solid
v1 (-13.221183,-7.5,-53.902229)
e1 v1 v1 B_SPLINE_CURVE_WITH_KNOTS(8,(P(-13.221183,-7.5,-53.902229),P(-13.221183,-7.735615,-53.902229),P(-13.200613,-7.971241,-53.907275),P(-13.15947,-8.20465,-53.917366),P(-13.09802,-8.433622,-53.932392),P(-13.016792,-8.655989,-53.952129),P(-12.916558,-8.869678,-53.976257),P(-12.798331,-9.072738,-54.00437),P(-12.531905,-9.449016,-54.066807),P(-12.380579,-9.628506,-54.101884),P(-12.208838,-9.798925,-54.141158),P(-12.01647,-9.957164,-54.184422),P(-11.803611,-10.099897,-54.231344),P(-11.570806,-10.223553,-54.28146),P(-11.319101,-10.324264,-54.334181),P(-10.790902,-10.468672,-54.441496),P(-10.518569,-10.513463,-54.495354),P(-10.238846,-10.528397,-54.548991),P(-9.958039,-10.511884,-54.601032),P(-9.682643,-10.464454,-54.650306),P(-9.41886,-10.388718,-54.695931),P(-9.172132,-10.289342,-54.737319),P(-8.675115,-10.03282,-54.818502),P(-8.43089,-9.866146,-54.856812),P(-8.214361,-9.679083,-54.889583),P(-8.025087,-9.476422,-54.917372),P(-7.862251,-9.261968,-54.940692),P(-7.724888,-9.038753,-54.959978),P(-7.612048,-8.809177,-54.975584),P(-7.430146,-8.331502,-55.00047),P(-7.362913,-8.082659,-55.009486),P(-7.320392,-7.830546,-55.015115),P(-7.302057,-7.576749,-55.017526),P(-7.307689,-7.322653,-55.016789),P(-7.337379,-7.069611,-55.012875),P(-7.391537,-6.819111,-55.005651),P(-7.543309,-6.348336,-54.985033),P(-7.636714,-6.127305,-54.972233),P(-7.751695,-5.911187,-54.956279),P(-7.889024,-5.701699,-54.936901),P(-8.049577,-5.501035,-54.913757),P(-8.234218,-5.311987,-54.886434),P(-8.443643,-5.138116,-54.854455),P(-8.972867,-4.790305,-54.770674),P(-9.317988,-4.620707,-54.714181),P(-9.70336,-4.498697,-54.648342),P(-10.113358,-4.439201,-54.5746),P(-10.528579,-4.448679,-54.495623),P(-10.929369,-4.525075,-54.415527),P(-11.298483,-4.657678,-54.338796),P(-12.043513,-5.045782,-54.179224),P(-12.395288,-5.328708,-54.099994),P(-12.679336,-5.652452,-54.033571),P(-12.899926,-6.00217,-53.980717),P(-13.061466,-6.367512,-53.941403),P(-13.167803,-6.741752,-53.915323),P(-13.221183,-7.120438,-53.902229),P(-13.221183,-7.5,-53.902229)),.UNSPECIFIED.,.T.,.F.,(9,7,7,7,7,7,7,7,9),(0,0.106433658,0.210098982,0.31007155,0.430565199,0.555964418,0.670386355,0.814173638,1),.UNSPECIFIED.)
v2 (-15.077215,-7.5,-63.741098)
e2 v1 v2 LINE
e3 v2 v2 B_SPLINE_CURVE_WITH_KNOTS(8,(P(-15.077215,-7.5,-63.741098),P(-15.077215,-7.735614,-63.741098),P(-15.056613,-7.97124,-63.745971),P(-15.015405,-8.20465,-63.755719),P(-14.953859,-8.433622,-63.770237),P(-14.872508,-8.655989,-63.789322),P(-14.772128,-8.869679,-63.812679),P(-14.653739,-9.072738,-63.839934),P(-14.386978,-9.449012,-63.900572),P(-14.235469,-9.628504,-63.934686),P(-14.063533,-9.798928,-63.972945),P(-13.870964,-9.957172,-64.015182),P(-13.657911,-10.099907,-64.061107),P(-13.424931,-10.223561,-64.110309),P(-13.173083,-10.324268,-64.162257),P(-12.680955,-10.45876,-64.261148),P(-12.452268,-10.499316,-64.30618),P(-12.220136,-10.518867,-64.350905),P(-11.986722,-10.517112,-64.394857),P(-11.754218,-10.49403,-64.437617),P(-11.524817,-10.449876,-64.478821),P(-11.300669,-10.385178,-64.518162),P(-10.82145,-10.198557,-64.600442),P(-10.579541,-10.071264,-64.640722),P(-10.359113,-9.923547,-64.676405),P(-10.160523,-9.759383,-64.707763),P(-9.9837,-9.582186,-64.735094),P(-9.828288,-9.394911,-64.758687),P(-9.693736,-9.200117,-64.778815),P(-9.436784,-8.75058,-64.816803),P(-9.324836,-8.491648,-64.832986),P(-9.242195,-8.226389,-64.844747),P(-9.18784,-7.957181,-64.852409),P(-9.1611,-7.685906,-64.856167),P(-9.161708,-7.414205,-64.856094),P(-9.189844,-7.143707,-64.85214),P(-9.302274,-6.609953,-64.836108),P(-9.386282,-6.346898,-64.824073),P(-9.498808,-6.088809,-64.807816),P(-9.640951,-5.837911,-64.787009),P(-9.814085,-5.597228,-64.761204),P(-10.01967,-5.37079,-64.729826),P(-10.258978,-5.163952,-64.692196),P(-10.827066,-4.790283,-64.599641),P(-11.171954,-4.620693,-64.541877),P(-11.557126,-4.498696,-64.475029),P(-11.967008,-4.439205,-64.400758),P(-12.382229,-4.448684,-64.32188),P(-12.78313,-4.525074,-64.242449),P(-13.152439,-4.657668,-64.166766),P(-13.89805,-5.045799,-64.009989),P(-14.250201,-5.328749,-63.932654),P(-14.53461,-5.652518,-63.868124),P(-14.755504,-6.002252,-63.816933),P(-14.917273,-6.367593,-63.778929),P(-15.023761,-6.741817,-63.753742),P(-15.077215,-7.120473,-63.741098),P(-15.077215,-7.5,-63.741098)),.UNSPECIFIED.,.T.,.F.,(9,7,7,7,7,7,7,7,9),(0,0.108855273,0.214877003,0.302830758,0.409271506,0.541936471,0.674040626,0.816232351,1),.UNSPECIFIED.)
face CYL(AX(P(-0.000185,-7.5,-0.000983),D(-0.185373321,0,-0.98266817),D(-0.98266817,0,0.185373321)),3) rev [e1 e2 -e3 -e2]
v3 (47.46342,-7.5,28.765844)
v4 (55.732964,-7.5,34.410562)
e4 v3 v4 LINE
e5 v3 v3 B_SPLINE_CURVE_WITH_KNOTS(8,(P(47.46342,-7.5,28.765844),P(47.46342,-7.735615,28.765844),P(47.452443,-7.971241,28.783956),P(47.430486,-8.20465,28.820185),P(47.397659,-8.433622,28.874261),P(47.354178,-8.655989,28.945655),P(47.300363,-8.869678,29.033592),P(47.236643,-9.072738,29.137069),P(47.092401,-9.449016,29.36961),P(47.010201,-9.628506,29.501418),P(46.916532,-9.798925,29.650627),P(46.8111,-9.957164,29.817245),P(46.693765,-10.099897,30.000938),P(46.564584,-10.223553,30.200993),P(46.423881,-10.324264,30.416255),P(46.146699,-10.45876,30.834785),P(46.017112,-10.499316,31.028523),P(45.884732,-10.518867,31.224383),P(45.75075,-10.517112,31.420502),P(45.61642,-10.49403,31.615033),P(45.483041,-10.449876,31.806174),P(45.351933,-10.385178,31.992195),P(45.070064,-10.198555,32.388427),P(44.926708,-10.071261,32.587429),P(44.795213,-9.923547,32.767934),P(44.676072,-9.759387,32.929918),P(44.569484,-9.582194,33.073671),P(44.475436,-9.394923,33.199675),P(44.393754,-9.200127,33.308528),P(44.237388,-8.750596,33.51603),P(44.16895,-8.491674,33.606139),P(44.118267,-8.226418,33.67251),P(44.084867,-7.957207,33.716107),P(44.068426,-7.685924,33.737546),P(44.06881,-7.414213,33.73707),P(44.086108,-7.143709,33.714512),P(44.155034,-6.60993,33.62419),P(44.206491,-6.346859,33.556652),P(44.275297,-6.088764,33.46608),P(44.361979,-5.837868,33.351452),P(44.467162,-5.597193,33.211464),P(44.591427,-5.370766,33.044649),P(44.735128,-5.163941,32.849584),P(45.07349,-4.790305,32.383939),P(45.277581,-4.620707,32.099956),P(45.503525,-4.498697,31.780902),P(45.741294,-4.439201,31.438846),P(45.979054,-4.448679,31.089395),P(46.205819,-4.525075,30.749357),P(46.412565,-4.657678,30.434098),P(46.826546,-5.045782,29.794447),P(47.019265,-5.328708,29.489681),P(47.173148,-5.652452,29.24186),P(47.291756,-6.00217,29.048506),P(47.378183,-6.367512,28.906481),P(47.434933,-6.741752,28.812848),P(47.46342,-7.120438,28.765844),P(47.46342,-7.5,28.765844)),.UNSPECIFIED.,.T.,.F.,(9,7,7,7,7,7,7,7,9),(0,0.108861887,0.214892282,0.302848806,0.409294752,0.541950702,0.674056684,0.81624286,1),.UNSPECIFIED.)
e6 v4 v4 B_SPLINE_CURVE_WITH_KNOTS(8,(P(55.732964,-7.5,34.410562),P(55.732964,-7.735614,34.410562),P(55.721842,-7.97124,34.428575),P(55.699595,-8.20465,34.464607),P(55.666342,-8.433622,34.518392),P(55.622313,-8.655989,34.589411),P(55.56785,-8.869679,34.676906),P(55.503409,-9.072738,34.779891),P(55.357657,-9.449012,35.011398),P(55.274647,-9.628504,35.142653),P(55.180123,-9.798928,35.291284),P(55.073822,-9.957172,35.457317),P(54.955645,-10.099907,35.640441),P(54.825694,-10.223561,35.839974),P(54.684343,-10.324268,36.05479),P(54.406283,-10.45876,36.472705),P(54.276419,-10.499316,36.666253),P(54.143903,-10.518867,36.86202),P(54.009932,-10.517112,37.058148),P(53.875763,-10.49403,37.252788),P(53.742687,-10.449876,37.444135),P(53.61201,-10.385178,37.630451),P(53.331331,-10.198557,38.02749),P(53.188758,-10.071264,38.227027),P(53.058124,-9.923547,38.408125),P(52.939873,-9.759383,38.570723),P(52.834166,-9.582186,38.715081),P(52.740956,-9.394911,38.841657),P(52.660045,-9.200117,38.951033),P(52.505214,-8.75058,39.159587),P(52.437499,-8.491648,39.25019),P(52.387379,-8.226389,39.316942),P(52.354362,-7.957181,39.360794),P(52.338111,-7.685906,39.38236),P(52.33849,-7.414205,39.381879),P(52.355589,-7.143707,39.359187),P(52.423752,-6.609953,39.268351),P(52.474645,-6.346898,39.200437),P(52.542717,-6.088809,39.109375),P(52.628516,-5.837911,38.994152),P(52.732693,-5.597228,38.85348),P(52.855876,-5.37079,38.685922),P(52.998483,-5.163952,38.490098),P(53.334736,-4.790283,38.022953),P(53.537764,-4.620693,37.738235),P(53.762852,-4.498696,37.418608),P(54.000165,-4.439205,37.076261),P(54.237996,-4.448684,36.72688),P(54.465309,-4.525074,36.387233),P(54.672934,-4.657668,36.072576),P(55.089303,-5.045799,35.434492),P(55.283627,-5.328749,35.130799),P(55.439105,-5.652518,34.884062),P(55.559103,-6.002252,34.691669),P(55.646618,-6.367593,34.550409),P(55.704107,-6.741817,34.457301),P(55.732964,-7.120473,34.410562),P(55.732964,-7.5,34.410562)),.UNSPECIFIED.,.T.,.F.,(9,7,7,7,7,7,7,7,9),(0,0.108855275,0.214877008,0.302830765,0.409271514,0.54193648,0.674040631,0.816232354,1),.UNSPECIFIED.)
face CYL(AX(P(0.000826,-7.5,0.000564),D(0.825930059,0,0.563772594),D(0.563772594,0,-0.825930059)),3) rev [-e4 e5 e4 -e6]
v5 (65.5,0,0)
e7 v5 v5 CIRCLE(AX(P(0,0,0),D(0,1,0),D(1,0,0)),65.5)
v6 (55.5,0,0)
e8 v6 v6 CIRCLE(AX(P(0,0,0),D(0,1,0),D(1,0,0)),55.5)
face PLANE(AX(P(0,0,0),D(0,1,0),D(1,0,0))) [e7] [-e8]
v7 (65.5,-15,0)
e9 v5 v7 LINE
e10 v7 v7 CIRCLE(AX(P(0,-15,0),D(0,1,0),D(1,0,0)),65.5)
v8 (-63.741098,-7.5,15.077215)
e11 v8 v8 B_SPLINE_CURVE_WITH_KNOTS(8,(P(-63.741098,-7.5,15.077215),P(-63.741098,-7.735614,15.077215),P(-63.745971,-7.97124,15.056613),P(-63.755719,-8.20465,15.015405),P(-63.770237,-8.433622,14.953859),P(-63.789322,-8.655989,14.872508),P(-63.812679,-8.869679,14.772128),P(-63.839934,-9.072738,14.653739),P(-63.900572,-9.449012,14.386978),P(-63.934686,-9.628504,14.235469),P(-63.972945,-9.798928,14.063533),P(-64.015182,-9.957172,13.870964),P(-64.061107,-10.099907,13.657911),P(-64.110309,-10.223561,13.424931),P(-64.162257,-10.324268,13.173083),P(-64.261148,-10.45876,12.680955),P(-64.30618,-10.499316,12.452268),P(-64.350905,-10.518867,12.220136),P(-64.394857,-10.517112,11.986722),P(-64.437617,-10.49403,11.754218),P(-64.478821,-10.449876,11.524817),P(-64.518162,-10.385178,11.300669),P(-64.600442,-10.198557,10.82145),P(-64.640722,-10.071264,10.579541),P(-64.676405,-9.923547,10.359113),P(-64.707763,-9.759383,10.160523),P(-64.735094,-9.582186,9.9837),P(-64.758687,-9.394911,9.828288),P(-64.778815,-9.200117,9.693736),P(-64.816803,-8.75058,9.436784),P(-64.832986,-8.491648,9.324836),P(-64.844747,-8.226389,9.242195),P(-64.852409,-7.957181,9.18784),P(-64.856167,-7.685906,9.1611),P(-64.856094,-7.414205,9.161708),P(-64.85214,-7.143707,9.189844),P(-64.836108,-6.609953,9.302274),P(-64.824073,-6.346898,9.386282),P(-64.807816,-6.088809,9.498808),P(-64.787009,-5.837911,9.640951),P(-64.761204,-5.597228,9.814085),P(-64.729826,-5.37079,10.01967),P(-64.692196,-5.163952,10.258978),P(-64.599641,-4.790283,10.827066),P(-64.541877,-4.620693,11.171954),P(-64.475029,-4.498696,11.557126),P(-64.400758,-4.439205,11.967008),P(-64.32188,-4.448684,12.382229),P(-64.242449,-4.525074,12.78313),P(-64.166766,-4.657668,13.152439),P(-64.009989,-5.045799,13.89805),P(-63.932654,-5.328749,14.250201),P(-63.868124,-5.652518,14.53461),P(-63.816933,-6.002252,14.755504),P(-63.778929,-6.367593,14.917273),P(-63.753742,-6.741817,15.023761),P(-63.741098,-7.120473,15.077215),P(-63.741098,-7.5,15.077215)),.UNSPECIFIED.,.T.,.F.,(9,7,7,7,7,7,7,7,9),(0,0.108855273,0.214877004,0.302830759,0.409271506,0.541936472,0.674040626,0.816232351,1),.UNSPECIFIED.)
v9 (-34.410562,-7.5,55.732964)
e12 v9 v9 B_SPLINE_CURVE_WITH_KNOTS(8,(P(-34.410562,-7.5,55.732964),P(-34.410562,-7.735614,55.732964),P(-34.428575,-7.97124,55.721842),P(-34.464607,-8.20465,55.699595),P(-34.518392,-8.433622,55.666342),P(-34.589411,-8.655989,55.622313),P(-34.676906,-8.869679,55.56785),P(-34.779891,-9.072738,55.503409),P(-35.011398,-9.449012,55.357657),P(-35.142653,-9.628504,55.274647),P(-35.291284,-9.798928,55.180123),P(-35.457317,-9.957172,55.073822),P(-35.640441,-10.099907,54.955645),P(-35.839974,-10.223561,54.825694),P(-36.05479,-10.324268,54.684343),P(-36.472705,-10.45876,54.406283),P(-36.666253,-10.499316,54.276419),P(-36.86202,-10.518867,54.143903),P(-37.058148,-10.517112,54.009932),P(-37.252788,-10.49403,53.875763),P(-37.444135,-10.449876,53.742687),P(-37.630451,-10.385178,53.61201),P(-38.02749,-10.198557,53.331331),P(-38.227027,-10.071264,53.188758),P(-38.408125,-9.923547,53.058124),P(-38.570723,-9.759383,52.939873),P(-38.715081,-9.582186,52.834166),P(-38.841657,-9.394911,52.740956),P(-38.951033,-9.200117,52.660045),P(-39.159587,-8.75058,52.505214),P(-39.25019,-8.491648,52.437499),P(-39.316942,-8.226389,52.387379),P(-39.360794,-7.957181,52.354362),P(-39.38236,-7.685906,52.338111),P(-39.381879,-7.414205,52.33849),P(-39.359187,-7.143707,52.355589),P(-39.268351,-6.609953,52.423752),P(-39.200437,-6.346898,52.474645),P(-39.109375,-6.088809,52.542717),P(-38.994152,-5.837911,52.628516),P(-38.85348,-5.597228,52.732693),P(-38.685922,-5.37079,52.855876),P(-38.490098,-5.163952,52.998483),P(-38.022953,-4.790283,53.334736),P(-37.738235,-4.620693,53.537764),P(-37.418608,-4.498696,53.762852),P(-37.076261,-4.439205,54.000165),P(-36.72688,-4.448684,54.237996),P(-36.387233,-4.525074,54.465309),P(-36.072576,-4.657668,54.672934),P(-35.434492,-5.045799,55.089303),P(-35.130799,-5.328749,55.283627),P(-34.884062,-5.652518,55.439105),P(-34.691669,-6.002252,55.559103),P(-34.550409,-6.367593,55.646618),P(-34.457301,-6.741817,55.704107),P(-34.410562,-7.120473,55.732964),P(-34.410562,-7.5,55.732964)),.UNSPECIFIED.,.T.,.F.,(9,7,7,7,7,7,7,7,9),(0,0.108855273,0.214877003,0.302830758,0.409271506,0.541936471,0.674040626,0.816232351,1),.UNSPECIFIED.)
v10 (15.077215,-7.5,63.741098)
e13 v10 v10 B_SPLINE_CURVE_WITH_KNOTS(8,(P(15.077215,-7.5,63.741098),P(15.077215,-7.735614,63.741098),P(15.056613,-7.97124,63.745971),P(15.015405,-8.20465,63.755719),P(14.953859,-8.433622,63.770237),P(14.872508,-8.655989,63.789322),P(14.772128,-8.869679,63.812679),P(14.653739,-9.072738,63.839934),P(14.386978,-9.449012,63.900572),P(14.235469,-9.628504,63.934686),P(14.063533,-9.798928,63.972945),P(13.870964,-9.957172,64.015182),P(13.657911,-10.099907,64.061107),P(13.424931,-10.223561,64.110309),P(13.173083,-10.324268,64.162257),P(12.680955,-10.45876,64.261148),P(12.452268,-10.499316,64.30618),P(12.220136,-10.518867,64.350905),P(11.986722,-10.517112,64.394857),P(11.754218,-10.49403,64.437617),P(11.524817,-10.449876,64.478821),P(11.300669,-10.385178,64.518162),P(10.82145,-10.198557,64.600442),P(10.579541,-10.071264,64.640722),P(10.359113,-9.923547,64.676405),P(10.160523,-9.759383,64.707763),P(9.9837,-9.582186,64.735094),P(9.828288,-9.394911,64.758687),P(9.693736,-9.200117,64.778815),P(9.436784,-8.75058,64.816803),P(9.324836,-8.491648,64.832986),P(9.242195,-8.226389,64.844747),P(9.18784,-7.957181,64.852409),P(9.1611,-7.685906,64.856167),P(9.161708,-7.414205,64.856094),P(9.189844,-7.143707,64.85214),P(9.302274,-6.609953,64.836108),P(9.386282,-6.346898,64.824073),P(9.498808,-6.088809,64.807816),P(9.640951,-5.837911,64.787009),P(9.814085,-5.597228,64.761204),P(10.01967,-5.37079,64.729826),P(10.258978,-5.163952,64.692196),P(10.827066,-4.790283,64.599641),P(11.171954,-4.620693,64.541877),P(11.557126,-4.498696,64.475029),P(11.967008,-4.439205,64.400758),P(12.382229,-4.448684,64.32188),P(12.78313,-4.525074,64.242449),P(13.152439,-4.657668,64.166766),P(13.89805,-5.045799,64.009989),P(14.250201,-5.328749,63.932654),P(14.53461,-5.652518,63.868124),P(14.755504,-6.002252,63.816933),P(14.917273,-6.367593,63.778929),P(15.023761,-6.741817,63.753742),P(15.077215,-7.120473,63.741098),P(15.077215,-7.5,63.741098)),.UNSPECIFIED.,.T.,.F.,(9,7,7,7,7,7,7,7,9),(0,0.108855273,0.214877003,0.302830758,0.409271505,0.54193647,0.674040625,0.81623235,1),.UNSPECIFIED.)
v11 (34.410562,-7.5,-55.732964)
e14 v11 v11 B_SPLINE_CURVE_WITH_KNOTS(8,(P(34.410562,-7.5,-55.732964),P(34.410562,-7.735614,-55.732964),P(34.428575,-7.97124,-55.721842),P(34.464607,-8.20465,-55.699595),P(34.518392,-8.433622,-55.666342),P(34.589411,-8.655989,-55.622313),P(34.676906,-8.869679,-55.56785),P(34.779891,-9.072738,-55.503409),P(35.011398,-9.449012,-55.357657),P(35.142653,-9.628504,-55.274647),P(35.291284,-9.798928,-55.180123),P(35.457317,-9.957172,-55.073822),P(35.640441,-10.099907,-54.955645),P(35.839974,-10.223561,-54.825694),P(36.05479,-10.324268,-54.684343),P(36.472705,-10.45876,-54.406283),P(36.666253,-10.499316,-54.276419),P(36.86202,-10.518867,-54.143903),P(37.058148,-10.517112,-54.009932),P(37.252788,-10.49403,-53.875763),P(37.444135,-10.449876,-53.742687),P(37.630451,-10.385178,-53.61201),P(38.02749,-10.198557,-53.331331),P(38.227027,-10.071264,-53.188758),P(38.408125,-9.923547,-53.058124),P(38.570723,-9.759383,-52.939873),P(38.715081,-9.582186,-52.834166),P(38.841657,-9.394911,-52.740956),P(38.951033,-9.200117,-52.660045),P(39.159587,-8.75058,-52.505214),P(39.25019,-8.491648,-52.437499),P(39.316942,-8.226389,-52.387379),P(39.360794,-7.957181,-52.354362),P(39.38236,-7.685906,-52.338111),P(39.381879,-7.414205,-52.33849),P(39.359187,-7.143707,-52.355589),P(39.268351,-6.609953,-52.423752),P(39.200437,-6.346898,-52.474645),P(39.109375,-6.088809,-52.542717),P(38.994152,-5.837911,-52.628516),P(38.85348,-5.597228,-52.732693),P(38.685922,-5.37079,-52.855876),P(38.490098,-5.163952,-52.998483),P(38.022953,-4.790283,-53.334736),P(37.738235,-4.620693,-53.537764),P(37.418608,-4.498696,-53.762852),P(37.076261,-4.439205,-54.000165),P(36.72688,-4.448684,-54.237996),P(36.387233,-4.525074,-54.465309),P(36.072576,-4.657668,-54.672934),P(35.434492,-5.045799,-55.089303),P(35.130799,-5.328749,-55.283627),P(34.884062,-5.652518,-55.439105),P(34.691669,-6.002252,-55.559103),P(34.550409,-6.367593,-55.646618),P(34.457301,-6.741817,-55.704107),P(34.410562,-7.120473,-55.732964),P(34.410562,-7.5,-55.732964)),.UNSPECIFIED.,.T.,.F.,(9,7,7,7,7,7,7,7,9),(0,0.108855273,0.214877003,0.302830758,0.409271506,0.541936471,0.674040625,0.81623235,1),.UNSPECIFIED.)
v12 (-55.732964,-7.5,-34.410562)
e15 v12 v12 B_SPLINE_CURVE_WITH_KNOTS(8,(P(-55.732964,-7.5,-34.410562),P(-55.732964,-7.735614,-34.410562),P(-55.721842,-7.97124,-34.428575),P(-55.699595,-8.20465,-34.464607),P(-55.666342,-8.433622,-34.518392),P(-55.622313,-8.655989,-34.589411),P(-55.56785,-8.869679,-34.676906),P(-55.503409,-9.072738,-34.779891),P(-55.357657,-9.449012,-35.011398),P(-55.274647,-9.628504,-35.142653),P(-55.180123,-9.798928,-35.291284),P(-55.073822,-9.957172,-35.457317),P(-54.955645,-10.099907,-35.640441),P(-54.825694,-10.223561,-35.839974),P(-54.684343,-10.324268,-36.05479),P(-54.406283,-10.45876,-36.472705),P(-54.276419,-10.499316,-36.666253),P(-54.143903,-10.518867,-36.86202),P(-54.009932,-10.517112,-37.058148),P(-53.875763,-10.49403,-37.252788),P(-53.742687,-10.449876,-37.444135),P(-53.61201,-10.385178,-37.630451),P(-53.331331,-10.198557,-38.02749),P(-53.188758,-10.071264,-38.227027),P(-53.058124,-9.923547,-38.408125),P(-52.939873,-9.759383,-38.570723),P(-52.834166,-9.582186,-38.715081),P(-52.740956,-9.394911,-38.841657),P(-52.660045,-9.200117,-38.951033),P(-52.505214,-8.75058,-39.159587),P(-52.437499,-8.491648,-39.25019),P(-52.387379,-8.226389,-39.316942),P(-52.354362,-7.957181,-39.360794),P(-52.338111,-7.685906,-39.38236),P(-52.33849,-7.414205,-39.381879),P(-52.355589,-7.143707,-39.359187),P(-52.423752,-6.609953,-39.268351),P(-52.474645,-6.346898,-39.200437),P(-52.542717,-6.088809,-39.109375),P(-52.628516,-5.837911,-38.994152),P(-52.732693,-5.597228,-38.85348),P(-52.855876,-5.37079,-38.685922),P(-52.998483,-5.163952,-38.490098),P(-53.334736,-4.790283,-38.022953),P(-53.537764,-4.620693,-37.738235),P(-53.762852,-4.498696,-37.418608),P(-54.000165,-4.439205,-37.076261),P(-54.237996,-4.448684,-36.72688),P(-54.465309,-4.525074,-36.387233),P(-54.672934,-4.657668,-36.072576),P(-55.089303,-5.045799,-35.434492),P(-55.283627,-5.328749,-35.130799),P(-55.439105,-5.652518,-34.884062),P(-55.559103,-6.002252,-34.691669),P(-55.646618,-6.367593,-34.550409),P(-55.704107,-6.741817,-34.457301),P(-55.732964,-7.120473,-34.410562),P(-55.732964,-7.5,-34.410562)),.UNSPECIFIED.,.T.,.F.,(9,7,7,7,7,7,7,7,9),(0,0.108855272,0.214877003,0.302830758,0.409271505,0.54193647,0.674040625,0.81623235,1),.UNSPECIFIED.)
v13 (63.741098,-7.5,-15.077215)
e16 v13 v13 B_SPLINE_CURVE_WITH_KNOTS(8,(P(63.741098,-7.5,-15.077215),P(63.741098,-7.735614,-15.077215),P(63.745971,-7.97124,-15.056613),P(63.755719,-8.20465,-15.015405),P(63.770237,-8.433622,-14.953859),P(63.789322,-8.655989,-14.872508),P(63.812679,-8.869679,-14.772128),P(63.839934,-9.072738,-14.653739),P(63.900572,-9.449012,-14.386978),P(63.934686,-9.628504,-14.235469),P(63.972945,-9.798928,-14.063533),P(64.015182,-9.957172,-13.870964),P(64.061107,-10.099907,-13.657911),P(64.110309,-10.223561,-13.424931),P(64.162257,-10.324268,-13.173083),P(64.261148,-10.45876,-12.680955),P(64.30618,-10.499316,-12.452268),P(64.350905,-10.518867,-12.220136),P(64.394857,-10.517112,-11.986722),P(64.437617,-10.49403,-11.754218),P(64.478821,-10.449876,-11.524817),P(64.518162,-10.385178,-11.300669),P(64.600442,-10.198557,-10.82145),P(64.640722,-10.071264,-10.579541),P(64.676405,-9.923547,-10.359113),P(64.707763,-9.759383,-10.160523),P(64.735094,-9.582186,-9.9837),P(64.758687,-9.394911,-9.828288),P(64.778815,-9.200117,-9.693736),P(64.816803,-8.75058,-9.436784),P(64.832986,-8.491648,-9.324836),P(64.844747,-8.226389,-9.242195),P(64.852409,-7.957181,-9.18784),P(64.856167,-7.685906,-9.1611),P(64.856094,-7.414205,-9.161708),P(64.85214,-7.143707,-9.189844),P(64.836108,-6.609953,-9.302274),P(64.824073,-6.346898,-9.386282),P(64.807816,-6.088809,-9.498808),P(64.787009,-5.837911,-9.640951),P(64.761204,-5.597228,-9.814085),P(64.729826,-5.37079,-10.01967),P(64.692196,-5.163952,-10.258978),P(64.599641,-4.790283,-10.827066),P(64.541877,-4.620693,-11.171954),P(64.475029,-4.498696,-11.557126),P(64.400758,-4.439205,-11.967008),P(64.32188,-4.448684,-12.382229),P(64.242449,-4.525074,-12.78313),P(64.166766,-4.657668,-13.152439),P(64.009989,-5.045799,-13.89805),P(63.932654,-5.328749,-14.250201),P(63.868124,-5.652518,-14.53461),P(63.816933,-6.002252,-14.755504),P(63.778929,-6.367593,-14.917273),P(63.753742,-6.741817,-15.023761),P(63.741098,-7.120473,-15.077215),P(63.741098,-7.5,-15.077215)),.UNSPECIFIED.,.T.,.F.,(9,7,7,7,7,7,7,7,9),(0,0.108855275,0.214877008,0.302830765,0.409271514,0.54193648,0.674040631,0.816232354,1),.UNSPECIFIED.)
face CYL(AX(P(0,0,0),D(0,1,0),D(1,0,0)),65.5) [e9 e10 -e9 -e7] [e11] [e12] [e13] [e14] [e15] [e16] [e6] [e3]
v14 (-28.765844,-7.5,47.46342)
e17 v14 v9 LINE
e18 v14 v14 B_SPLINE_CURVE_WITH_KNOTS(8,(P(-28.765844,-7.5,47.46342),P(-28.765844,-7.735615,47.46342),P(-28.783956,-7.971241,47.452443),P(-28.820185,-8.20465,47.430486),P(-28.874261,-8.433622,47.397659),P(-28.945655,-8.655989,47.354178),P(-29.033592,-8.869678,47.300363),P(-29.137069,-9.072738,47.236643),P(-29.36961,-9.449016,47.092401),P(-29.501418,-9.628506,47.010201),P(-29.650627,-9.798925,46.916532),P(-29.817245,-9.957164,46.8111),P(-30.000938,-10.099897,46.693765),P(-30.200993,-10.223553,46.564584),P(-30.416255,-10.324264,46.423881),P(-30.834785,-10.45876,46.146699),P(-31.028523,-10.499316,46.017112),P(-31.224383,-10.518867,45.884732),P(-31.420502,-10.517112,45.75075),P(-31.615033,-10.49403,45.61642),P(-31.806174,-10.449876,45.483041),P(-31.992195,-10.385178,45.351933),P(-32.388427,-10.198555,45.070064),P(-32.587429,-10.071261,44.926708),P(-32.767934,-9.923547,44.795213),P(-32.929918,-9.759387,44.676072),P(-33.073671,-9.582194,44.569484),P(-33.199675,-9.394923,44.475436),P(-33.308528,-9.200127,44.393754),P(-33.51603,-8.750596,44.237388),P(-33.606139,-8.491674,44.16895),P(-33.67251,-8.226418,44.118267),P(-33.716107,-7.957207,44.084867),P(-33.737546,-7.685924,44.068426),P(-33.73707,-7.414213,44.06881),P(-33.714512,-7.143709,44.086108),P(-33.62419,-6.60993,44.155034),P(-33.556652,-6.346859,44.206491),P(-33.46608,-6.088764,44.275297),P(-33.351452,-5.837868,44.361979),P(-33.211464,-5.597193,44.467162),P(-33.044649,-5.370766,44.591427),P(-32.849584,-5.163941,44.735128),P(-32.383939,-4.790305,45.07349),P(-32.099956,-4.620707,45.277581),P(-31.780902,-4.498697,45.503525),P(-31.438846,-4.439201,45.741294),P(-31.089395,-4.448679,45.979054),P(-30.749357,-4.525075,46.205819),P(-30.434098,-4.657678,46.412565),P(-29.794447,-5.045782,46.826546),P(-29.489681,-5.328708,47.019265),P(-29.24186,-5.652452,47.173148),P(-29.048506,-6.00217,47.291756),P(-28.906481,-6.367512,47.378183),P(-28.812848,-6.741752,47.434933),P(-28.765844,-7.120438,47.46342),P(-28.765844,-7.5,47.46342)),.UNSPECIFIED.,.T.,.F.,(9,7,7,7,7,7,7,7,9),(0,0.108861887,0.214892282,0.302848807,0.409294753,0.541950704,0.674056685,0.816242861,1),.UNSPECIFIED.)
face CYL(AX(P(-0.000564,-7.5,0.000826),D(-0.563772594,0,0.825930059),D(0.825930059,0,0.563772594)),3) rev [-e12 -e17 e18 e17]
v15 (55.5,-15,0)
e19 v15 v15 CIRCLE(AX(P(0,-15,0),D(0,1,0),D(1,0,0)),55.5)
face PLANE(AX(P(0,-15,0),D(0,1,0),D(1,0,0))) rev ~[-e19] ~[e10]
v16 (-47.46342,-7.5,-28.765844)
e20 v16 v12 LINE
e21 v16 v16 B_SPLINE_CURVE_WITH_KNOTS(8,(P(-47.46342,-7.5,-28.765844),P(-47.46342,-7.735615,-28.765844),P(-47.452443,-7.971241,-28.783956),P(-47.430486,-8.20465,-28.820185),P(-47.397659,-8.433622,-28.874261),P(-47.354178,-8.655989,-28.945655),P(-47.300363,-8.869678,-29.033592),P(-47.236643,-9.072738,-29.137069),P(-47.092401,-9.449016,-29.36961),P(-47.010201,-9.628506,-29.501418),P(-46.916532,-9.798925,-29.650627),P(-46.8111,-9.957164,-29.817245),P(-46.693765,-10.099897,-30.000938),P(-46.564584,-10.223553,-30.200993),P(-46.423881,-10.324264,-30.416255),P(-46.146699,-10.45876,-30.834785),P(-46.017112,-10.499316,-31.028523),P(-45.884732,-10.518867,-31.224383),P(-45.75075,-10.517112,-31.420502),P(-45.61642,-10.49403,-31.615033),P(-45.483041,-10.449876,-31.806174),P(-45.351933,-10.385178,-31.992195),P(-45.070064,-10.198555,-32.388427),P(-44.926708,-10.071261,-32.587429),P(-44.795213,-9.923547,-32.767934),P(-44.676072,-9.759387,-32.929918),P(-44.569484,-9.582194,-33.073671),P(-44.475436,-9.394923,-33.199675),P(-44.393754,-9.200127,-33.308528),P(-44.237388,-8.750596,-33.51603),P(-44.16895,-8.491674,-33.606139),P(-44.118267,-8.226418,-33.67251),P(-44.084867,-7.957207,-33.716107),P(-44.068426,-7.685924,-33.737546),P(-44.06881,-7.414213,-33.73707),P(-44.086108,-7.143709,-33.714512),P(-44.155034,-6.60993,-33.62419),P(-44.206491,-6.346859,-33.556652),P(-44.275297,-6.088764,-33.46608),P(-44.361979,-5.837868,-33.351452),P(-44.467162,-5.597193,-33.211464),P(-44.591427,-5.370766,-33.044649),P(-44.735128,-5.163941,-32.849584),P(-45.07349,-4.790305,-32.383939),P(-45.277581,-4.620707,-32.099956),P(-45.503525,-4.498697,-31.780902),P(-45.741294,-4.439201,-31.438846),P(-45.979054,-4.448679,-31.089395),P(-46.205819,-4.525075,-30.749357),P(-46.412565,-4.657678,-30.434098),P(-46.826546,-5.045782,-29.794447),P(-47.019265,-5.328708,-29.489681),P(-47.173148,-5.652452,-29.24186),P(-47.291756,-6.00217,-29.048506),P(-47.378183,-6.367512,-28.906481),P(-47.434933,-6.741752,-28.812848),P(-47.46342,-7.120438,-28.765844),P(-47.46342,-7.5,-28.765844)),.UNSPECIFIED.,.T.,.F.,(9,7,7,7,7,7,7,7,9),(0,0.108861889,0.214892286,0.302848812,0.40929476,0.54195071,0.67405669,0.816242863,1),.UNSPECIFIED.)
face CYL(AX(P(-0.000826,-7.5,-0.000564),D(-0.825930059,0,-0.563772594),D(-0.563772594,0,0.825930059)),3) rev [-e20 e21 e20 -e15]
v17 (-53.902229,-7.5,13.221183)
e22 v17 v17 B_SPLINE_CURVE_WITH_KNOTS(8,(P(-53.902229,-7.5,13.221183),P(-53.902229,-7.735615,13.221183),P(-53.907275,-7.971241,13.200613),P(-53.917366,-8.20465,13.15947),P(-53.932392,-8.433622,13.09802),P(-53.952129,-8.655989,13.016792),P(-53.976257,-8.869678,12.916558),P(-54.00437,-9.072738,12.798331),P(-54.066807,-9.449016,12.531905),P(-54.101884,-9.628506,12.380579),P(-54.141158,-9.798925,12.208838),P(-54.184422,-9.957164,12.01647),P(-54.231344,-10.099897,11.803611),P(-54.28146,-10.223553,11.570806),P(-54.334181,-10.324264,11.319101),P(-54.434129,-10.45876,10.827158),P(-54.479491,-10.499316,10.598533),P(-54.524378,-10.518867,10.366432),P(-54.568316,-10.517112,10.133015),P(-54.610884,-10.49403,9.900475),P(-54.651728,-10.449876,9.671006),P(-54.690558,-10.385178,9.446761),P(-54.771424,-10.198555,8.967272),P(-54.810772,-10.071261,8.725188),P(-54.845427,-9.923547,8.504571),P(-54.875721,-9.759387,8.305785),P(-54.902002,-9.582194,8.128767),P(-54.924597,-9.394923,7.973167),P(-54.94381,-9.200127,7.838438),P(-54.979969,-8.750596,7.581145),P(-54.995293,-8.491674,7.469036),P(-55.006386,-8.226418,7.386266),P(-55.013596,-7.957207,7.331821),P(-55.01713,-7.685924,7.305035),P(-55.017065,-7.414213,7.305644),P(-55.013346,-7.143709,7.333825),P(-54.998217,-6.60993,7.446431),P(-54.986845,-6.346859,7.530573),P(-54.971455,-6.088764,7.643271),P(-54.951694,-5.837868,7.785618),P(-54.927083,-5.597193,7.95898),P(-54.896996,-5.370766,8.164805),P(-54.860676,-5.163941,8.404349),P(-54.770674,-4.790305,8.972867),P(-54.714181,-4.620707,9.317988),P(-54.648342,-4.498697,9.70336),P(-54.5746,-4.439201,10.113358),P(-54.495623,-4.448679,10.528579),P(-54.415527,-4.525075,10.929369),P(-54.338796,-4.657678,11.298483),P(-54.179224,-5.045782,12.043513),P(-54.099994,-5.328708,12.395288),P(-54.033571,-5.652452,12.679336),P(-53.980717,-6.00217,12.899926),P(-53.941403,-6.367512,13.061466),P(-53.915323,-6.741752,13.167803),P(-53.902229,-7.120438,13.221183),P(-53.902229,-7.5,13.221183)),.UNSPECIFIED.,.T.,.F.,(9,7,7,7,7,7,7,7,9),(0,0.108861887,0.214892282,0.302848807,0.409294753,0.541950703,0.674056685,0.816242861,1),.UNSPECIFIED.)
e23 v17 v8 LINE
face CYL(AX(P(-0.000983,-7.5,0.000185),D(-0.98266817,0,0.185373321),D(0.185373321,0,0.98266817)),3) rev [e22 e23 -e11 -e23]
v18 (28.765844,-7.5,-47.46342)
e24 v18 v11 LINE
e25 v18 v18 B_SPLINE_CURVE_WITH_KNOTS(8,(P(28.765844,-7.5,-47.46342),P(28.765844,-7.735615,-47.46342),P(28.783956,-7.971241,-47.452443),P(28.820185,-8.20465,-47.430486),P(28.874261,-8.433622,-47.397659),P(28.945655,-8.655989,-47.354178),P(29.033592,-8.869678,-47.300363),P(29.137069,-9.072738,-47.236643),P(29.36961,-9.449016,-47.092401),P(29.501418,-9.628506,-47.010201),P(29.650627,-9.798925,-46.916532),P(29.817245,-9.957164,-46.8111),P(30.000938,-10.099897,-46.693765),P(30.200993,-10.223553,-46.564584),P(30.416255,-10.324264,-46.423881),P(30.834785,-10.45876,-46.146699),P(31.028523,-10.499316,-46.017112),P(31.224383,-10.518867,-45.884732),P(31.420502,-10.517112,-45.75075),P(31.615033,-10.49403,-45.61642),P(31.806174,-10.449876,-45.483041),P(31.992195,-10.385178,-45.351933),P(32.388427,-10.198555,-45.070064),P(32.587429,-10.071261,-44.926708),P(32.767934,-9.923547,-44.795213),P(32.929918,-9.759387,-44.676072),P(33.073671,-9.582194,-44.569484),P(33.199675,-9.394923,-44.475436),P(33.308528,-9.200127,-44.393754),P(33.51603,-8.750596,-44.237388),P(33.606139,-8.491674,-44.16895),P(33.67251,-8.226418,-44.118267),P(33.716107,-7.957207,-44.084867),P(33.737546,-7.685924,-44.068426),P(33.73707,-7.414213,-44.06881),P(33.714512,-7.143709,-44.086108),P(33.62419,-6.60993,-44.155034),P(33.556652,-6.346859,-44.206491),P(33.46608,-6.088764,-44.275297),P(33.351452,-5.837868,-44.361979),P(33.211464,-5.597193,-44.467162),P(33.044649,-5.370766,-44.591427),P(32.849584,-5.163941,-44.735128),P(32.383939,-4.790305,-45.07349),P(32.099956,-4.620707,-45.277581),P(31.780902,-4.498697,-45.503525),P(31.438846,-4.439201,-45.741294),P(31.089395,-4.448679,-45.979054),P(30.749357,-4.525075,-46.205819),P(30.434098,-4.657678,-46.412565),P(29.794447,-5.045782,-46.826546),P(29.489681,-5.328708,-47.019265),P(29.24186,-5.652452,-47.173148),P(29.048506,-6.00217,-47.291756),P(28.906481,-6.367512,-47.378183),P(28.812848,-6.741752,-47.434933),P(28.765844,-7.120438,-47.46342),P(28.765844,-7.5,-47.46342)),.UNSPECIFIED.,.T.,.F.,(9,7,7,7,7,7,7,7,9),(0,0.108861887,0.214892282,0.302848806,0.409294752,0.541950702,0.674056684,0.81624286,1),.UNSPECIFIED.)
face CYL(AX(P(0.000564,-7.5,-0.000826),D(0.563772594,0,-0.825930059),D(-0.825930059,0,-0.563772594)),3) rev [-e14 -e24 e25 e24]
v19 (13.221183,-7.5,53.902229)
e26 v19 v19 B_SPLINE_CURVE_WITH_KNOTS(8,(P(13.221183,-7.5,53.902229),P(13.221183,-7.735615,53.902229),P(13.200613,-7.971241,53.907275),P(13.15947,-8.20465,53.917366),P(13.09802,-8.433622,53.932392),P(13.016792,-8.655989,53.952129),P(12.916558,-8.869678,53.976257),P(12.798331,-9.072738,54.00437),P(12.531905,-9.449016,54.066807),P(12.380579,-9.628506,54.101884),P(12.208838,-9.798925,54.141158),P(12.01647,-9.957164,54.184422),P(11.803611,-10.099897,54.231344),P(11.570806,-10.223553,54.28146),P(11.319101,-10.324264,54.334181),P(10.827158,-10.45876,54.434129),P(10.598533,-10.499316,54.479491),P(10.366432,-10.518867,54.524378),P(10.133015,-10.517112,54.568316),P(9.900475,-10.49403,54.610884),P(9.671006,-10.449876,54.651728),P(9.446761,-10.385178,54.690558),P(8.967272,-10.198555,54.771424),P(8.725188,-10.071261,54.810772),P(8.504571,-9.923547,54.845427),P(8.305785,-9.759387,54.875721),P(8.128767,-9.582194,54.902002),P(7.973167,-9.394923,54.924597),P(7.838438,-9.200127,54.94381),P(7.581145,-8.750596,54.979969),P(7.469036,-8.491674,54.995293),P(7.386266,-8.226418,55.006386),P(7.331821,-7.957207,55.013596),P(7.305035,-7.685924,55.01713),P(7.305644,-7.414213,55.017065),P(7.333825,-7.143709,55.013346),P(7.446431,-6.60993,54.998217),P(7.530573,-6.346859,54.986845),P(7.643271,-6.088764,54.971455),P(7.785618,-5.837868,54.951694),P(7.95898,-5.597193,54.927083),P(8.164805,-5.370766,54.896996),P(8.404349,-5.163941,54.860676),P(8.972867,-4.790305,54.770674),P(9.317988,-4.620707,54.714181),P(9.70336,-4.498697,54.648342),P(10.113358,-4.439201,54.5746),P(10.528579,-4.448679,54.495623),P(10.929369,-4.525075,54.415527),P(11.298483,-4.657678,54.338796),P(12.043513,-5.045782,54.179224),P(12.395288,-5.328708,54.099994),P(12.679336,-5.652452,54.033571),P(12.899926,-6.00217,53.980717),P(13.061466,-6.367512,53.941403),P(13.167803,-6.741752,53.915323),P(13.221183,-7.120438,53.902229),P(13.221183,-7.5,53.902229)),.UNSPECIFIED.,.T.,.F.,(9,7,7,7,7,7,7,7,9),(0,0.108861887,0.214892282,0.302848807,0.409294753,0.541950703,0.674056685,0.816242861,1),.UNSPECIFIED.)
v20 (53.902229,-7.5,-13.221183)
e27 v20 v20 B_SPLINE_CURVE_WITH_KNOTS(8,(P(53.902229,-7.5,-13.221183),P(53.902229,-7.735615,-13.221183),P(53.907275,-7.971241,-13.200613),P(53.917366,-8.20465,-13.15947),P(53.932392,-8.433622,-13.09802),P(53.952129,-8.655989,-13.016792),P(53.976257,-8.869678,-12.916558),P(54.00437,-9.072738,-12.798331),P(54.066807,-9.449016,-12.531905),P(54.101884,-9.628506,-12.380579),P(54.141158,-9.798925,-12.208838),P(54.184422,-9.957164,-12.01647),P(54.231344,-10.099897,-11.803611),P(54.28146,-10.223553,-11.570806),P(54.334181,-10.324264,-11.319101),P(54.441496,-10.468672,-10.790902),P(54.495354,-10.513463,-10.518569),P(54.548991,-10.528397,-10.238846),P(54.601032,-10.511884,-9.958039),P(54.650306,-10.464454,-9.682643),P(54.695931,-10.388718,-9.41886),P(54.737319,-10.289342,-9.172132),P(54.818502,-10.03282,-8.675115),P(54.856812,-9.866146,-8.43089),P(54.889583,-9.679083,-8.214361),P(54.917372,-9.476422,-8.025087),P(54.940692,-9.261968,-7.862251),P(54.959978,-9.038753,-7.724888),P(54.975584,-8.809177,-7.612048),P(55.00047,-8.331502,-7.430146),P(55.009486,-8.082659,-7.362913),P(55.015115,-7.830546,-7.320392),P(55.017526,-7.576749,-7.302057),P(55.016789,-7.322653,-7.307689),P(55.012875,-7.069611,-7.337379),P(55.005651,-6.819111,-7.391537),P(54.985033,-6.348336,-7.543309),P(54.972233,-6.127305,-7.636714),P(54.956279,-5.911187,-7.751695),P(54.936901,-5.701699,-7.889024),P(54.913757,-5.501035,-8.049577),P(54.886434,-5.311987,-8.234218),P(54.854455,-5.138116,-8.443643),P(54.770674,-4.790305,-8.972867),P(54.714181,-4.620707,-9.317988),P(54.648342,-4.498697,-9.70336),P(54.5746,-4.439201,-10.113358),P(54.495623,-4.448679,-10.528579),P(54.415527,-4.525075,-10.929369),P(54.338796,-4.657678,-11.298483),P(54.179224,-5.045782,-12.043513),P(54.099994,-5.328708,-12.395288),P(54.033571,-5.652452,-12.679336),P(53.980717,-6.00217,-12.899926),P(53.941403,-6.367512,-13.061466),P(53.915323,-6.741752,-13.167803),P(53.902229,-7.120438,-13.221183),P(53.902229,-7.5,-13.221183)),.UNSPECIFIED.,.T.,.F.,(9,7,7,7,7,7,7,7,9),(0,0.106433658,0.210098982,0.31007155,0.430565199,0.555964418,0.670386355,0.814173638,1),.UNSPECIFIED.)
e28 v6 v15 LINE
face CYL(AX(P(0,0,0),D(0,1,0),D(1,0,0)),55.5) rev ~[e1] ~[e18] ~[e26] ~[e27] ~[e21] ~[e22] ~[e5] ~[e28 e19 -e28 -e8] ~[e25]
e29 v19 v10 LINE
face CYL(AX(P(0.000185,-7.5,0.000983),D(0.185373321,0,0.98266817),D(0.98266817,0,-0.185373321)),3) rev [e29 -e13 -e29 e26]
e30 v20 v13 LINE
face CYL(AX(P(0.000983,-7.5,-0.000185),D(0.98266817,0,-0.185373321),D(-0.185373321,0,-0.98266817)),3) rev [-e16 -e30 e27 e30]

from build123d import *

# Parameters (mm, degrees)
SKETCH1_R           = 65.5
SKETCH1_R_2         = 55.5
BOSS_EXTRUDE1_DEPTH = 15
CIRPATTERN1_COUNT   = 8


with BuildPart() as part:
    # Sketch1 → Boss-Extrude1 (new body)
    with BuildSketch(Plane(origin=(0, 0, 0), x_dir=(1, 0, 0), z_dir=(0, 1, 0))):
        Circle(SKETCH1_R)
        Circle(SKETCH1_R_2, mode=Mode.SUBTRACT)
    extrude(amount=-BOSS_EXTRUDE1_DEPTH)

    # Sketch3 → Ø6.0 (6) Diameter Hole2 (revolve, cut)
    with BuildSketch(Plane(origin=(12.141952512, -7.5, 64.364765122), x_dir=(0.98266817, 0, -0.185373321), z_dir=(0, 1, 0))):
        Polygon((0, 0), (0, 67.301581857), (3, 65.499), (3, 0), align=None)
    f_6_0_6_diameter_hole2 = revolve(axis=Axis((13.319073099, -7.5, 70.604708), (-0.185373321, 0, -0.98266817)), mode=Mode.SUBTRACT)

    # CirPattern1: Ø6.0 (6) Diameter Hole2 ×8 about axis
    cirpattern1_axis = Axis((0, 0, 0), (0, 1, 0))
    for i in range(1, CIRPATTERN1_COUNT):
        add(f_6_0_6_diameter_hole2.rotate(cirpattern1_axis, i * 360 / CIRPATTERN1_COUNT), mode=Mode.SUBTRACT)


solid = part.part
